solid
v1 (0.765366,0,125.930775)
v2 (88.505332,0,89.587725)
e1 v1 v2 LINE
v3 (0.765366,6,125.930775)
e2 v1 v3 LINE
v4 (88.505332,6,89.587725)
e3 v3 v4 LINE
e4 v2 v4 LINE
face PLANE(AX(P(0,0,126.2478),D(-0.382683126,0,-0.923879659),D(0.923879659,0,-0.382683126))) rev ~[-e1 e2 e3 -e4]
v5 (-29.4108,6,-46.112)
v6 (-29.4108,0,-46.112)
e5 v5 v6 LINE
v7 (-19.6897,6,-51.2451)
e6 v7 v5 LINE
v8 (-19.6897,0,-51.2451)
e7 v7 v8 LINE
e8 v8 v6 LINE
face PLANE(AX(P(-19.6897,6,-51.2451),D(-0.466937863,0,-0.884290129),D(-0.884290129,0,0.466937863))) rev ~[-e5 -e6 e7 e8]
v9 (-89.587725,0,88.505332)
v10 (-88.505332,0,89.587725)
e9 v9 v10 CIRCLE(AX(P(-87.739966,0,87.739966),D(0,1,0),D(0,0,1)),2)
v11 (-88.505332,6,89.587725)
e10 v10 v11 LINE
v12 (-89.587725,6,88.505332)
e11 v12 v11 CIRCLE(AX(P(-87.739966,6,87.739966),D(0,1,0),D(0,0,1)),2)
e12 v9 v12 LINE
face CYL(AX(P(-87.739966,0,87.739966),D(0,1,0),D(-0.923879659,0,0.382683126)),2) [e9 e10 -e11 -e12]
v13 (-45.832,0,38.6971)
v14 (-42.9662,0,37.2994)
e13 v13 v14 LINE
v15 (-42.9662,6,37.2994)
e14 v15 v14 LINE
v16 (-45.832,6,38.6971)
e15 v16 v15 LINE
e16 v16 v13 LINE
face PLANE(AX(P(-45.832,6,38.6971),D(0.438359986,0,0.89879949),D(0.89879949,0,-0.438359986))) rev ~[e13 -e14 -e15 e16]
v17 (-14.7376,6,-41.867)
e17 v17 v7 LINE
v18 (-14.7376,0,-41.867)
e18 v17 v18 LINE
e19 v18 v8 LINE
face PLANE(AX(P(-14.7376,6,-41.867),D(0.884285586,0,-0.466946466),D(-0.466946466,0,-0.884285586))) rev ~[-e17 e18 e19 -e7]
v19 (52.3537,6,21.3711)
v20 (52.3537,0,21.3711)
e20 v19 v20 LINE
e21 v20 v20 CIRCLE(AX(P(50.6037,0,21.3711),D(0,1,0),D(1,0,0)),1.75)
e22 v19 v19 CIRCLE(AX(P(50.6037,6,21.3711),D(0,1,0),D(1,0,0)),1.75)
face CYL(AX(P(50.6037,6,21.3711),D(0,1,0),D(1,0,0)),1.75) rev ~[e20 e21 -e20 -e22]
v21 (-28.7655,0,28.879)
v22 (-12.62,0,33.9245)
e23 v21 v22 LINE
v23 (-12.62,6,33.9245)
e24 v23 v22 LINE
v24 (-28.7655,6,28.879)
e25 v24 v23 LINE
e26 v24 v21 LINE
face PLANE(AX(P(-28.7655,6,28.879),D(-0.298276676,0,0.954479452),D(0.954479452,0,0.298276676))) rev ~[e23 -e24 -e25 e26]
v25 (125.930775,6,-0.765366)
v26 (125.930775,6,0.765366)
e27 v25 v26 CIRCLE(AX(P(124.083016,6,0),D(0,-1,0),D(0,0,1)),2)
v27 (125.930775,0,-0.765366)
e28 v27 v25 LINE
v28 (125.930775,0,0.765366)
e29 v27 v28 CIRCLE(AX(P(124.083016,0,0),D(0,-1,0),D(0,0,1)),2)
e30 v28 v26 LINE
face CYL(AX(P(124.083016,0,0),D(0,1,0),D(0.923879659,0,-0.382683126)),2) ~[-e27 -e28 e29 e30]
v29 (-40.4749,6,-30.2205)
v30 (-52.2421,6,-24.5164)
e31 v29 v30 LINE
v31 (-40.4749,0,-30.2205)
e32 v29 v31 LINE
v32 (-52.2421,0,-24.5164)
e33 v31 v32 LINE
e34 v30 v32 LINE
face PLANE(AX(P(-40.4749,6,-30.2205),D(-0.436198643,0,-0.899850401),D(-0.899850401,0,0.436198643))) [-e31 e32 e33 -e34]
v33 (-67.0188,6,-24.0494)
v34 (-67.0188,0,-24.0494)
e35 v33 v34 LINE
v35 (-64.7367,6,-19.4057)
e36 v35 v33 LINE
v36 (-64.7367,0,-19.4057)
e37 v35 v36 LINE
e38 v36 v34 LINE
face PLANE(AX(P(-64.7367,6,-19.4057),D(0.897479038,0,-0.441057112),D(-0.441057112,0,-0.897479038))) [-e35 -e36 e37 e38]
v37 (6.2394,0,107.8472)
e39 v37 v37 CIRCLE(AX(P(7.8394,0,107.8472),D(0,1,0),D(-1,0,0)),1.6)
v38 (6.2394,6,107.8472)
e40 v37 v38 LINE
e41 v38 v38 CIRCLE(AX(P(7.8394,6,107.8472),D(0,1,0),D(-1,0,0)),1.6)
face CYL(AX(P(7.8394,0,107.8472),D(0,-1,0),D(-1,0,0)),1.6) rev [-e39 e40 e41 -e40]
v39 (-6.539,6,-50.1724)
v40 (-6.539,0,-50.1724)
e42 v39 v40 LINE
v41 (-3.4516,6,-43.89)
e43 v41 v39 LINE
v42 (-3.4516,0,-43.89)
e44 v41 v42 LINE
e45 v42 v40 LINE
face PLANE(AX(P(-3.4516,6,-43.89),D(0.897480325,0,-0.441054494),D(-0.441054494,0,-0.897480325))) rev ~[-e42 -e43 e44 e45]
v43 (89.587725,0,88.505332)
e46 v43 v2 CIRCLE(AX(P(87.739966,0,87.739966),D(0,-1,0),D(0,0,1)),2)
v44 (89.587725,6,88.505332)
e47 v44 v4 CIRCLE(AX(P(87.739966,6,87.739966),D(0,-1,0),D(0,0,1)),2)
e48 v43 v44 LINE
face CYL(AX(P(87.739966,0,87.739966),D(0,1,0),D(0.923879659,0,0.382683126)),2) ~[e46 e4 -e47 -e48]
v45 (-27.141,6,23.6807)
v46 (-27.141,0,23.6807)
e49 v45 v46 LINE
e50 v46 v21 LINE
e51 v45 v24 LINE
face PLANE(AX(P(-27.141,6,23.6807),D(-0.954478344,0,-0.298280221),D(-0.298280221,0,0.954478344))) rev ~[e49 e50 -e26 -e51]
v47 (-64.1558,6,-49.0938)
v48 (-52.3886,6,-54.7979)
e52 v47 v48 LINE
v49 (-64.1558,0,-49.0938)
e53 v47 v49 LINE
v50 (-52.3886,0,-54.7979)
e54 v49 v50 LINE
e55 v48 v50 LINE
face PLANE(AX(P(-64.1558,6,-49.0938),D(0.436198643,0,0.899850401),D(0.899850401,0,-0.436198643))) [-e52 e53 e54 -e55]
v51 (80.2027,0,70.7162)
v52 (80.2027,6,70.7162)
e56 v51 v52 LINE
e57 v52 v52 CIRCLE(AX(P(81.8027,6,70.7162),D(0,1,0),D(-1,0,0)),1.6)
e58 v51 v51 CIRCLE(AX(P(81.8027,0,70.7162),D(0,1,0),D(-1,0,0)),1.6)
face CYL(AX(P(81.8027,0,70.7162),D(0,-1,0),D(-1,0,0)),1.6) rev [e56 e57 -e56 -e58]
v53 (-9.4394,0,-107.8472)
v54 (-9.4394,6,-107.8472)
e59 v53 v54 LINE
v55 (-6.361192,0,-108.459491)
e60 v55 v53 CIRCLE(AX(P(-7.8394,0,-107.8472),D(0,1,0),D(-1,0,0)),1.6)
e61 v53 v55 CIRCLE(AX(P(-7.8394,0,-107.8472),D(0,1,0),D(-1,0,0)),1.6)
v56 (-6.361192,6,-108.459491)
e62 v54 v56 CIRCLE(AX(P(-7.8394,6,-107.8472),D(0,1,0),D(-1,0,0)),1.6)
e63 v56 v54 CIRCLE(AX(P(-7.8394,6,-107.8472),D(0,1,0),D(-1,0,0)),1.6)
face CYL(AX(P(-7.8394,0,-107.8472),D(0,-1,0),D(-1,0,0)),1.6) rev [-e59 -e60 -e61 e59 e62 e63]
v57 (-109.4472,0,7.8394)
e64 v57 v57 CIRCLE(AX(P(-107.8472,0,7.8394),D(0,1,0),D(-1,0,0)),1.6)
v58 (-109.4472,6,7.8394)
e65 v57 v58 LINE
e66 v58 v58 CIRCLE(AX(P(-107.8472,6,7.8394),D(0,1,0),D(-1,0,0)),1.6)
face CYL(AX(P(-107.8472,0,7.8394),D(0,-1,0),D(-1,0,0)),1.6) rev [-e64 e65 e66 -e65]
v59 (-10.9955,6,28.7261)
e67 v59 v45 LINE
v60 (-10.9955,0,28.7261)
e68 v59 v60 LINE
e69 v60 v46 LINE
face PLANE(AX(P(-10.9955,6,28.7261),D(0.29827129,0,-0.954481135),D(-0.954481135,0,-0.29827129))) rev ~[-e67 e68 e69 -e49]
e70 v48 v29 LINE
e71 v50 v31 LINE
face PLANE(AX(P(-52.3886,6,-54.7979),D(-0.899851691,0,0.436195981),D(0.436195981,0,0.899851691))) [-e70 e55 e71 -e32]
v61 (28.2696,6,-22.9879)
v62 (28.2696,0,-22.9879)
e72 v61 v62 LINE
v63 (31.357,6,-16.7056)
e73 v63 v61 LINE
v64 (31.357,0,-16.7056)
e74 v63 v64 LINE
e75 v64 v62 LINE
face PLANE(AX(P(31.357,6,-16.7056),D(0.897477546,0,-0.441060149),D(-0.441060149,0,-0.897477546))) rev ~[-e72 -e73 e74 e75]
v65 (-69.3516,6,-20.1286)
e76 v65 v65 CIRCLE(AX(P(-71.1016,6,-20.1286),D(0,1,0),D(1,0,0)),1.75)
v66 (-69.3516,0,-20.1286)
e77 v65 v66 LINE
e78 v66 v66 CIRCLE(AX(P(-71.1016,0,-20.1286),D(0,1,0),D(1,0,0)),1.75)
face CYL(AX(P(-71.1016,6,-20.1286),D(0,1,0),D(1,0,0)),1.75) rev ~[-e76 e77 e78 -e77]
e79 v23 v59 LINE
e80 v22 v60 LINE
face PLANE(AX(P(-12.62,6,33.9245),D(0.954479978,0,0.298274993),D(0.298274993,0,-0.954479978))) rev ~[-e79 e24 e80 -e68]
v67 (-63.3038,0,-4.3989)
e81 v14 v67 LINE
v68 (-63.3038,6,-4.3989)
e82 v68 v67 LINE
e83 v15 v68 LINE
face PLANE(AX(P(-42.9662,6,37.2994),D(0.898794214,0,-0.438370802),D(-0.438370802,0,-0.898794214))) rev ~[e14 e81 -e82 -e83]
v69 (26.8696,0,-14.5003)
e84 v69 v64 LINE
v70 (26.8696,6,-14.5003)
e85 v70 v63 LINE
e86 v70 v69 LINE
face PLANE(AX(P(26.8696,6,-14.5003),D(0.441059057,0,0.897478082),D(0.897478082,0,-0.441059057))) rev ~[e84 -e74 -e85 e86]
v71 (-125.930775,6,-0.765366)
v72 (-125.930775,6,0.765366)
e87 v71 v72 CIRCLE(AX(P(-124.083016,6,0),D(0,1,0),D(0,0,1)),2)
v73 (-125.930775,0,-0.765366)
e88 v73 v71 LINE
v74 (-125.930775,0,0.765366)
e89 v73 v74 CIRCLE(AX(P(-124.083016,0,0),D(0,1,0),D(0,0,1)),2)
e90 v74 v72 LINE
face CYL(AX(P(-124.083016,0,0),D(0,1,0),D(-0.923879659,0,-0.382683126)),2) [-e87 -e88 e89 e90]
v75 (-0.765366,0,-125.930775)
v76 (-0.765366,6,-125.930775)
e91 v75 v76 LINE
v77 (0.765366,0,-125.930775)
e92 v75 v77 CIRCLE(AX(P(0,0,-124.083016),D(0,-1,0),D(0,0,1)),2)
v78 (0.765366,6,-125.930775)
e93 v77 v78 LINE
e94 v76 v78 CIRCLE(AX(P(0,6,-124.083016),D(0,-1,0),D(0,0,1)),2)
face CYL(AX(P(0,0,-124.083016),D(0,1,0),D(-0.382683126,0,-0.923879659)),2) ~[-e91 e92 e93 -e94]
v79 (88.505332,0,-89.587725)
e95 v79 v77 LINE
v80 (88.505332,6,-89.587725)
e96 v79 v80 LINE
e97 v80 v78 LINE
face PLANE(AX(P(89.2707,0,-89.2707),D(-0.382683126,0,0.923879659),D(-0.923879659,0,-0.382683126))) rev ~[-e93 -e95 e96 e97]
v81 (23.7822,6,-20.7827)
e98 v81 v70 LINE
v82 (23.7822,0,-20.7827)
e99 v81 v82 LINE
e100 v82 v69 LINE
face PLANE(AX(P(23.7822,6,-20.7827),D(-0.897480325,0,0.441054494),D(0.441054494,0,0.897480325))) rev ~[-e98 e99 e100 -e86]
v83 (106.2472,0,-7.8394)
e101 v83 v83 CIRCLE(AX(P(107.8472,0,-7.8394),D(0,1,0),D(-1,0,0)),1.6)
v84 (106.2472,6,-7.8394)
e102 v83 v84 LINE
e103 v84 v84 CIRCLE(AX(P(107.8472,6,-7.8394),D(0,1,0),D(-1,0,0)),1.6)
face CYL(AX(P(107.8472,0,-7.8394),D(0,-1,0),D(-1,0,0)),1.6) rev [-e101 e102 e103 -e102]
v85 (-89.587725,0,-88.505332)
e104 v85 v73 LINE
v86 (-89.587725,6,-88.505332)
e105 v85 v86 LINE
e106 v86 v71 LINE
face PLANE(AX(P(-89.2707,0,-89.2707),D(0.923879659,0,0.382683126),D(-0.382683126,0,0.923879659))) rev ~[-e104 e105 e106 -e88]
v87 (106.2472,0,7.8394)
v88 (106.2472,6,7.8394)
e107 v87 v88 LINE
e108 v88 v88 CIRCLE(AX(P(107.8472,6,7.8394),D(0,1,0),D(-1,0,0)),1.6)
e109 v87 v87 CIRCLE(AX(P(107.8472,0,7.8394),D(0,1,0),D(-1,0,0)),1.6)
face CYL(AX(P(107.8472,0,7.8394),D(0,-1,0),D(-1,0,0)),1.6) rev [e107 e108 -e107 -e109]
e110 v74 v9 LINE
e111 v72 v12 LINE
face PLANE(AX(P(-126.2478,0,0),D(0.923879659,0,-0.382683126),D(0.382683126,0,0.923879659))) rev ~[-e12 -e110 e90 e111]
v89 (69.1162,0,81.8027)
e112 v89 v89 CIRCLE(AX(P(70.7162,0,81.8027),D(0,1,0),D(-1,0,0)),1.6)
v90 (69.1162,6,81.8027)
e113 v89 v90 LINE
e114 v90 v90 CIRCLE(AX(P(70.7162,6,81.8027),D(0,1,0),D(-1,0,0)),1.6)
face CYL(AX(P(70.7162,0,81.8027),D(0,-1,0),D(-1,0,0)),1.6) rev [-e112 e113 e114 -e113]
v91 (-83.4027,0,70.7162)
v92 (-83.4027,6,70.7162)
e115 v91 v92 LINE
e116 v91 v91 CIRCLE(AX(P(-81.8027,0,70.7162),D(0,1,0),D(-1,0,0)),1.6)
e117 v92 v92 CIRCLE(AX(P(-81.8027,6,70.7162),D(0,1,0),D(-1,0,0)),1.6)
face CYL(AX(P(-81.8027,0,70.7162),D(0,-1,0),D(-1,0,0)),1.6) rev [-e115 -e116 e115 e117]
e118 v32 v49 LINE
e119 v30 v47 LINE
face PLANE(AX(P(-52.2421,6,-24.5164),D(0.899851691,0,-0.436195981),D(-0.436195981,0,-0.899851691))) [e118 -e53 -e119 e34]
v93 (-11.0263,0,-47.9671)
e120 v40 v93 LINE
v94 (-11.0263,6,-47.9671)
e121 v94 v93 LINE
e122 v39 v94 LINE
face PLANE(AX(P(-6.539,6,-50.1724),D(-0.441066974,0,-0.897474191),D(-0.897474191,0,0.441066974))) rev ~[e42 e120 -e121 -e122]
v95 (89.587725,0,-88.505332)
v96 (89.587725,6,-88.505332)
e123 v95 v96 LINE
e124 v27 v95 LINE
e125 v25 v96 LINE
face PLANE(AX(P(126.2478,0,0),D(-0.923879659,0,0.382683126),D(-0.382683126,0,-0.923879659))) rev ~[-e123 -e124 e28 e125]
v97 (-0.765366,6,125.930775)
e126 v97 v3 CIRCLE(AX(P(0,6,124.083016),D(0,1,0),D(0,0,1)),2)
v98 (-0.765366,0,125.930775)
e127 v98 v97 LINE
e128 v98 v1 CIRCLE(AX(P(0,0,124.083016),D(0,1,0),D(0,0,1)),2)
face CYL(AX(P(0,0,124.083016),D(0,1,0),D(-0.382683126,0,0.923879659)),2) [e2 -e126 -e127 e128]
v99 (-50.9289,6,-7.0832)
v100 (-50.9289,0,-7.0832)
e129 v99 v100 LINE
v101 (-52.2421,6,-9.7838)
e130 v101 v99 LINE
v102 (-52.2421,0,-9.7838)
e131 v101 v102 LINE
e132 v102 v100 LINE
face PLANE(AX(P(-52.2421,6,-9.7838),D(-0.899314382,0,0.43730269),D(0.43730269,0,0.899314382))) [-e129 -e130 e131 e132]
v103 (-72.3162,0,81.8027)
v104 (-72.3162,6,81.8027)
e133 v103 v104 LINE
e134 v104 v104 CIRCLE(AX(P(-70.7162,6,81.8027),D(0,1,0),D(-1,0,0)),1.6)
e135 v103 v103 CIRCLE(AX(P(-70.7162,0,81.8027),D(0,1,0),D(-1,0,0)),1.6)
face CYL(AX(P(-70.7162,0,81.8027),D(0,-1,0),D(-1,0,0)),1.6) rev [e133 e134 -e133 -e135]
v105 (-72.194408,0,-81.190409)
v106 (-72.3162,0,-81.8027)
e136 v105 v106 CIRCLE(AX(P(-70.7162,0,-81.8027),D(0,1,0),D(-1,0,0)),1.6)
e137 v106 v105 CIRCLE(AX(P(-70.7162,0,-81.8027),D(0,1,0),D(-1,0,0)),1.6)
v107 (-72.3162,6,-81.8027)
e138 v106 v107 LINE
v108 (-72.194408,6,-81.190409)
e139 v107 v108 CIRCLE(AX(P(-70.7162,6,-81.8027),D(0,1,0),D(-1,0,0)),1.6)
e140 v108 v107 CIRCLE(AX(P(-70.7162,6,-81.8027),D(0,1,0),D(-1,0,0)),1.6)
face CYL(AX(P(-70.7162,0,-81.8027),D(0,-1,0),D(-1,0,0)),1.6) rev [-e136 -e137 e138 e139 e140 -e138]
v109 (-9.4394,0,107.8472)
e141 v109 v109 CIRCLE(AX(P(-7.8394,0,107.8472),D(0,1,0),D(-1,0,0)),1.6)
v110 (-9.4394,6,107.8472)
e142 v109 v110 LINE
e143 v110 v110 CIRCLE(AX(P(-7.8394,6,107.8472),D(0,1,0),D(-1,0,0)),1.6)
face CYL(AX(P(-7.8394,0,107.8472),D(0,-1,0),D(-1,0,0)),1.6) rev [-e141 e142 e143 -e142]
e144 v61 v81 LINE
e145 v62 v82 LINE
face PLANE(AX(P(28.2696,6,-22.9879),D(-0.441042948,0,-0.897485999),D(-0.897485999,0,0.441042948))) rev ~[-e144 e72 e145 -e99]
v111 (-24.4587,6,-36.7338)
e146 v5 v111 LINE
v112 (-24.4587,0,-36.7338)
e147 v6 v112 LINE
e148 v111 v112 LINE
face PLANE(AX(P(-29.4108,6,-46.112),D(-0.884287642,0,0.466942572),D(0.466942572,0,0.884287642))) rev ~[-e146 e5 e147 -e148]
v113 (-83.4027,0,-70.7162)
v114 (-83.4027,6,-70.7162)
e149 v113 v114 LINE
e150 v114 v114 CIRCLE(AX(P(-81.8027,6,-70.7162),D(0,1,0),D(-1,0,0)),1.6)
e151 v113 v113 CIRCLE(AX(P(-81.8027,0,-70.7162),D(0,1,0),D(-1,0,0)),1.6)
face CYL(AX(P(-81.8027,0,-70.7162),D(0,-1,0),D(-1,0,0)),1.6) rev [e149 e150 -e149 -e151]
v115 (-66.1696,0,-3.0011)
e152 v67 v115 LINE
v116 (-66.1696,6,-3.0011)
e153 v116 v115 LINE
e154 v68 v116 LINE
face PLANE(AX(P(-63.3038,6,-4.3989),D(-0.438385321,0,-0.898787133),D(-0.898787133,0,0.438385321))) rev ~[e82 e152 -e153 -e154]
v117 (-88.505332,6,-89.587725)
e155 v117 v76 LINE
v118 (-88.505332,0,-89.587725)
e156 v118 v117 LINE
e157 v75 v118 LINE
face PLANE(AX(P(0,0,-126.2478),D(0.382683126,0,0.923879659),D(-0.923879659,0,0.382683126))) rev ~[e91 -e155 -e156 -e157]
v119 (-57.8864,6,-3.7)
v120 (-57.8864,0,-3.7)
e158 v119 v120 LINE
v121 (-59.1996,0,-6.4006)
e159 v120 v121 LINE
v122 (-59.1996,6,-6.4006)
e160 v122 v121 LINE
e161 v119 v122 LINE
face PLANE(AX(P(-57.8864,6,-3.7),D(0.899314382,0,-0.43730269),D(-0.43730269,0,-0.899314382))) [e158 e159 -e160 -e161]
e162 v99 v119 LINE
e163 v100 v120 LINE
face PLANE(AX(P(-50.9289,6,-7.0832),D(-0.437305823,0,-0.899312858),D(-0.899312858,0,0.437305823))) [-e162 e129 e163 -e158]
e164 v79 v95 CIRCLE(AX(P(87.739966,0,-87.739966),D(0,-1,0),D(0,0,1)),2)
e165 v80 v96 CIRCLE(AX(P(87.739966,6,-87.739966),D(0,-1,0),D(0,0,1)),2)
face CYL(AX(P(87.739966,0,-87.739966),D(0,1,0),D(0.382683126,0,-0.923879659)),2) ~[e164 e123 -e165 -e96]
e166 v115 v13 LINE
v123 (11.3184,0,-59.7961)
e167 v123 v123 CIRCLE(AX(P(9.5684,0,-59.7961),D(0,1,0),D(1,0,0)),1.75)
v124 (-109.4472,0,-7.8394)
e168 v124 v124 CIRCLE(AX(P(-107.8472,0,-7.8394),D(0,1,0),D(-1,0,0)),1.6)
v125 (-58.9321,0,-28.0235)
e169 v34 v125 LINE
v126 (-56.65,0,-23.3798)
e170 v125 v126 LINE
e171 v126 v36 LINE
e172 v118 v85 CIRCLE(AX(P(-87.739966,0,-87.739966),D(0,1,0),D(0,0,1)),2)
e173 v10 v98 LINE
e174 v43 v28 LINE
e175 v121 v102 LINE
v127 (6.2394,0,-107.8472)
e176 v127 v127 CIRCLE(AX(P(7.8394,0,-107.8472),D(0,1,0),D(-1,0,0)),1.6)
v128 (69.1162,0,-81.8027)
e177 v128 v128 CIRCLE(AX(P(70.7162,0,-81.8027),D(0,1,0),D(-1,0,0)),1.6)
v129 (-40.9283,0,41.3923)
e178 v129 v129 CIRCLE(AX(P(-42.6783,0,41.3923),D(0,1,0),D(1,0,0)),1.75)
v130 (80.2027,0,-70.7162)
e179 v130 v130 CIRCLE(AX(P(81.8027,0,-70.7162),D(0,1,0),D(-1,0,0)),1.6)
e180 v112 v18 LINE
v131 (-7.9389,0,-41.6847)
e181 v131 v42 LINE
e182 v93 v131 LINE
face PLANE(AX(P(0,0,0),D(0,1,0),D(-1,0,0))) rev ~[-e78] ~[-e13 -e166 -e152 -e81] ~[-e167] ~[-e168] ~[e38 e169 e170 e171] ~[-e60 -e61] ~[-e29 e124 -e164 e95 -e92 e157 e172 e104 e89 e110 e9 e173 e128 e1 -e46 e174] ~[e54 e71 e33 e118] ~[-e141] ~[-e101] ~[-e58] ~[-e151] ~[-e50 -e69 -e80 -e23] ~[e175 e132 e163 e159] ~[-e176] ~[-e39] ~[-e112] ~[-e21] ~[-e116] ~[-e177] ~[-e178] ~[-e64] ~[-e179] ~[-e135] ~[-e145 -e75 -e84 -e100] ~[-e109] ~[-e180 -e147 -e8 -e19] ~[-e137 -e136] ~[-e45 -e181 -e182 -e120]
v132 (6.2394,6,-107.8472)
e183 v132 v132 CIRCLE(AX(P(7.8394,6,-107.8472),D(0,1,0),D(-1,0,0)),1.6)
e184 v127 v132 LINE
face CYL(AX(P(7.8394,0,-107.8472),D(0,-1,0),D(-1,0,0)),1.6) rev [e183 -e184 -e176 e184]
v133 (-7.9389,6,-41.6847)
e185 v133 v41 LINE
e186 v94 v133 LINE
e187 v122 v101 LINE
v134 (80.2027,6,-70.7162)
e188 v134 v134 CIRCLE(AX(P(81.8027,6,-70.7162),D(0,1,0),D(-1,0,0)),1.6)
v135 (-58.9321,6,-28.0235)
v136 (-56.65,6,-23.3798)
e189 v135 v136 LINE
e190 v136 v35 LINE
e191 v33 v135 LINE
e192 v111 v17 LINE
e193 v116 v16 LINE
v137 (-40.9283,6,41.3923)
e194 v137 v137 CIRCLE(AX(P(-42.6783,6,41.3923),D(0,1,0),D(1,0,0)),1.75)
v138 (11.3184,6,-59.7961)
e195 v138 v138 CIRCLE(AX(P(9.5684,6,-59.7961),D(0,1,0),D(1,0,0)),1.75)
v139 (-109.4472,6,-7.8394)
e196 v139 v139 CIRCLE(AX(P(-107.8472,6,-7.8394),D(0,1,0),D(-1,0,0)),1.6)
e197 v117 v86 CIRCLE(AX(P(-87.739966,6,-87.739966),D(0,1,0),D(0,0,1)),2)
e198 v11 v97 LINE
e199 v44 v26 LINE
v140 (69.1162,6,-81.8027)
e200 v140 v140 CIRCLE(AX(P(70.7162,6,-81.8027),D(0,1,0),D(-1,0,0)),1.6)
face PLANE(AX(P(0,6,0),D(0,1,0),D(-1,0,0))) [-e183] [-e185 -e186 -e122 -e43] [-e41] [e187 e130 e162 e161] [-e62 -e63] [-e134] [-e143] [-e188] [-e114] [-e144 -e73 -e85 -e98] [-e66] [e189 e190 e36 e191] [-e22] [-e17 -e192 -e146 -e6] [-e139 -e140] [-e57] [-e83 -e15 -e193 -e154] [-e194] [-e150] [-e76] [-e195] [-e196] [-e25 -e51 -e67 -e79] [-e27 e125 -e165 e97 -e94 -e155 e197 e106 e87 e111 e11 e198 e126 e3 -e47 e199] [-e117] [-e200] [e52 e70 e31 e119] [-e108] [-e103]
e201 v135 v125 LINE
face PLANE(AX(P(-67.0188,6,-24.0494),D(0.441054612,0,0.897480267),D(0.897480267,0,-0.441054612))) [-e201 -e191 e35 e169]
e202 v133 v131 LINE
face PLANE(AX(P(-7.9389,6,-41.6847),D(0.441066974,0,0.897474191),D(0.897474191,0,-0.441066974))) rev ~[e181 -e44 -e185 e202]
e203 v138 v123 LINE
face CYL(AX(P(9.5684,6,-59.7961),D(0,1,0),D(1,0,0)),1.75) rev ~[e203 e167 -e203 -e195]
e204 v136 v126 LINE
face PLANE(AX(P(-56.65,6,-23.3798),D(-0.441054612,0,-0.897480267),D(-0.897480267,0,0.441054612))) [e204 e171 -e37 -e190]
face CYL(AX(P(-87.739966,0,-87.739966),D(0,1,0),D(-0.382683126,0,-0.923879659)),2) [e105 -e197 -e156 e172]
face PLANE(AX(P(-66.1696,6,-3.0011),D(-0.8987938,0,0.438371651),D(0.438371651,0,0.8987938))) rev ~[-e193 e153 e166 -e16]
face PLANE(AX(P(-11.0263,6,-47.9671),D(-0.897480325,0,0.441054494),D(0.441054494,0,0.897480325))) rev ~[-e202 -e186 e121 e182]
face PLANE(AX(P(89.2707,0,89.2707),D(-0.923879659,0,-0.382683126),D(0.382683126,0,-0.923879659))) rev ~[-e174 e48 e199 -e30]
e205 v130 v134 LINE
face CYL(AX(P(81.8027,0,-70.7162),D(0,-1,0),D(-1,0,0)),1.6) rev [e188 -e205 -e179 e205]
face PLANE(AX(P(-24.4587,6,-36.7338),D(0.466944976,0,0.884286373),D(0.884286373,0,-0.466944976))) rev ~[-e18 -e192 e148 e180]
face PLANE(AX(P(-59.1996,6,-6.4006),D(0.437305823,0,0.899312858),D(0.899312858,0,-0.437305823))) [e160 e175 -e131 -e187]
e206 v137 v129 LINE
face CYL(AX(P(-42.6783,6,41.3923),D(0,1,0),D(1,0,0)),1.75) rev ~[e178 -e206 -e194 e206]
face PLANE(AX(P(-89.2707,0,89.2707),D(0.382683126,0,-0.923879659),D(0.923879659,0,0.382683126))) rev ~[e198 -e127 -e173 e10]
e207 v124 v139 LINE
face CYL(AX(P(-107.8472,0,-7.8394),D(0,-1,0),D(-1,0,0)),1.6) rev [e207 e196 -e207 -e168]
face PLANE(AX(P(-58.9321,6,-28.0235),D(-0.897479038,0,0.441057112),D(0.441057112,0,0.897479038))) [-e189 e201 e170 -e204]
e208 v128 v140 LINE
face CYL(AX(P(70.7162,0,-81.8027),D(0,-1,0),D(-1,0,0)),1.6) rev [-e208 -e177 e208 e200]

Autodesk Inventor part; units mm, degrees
ref_plane "YZ Plane" through (0, 0, 0) normal (1, 0, 0) x (0, 1, 0)
ref_plane "XZ Plane" through (0, 0, 0) normal (0, 1, 0) x (-1, 0, 0)
ref_plane "XY Plane" through (0, 0, 0) normal (0, 0, 1) x (1, 0, 0)
sketch "Sketch1" plane through (0, 0, 0) normal (0, 1, 0) x (-1, 0, 0)
  line L0 (0, 0) -> (0, -104.6)
  line L1 (0, -104.6) -> (-73.9634, -73.9634)
  line L2 (-73.9634, -73.9634) -> (-104.6, 0)
  line L3 (-104.6, 0) -> (-73.9634, 73.9634)
  line L4 (-73.9634, 73.9634) -> (0, 104.6)
  line L5 (0, 104.6) -> (73.9634, 73.9634)
  line L6 (73.9634, 73.9634) -> (104.6, 0)
  line L7 (104.6, 0) -> (73.9634, -73.9634)
  line L8 (73.9634, -73.9634) -> (0, -104.6)
  line L9 (89.2707, -89.2707) -> (126.2478, 0)
  line L10 (126.2478, 0) -> (89.2707, 89.2707)
  line L11 (89.2707, 89.2707) -> (0, 126.2478)
  line L12 (0, 126.2478) -> (-89.2707, 89.2707)
  line L13 (-89.2707, 89.2707) -> (-126.2478, 0)
  line L14 (-126.2478, 0) -> (-89.2707, -89.2707)
  line L15 (-89.2707, -89.2707) -> (0, -126.2478)
  line L16 (0, -126.2478) -> (89.2707, -89.2707)
  line L17 (0, -104.6) -> (7.6537, -123.0776)
  line L18 (0, -104.6) -> (20, -104.6) construction
  line L19 (73.9634, -73.9634) -> (81.617, -92.441)
  line L20 (73.9634, -73.9634) -> (76.2595, -79.5066)
  line L21 (76.2595, -79.5066) -> (70.7162, -81.8027)
  circle A0 centre (70.7162, -81.8027) radius 1.6
  line L22 (0, -104.6) -> (2.2961, -110.1433)
  line L23 (2.2961, -110.1433) -> (7.8394, -107.8472)
  circle A1 centre (7.8394, -107.8472) radius 1.6
  circle A2 centre (107.8472, -7.8394) radius 1.6
  circle A3 centre (81.8027, -70.7162) radius 1.6
  circle A4 centre (81.8027, 70.7162) radius 1.6
  circle A5 centre (107.8472, 7.8394) radius 1.6
  circle A6 centre (7.8394, 107.8472) radius 1.6
  circle A7 centre (70.7162, 81.8027) radius 1.6
  circle A8 centre (-70.7162, 81.8027) radius 1.6
  circle A9 centre (-7.8394, 107.8472) radius 1.6
  circle A10 centre (-107.8472, 7.8394) radius 1.6
  circle A11 centre (-81.8027, 70.7162) radius 1.6
  circle A12 centre (-81.8027, -70.7162) radius 1.6
  circle A13 centre (-107.8472, -7.8394) radius 1.6
  circle A14 centre (-7.8394, -107.8472) radius 1.6
  circle A15 centre (-70.7162, -81.8027) radius 1.6
  dimension "d0" = 104.6
  dimension "d1" = 20
  dimension "d2" = 67.5
  dimension "d3" = 6
  dimension "d4" = 6
  dimension "d5" = 3.2
  dimension "d6" = 6
  dimension "d7" = 3.2
  dimension "d10" = 360
extrude "Extrusion1" add sketch "Sketch1" along normal blind 6
sketch "Sketch2" plane through (0, 6, 0) normal (0, 1, 0) x (1, 0, 0)
  circle A0 centre (-42.6783, -41.3923) radius 1.25 projected
  circle A1 centre (-71.1016, 20.1286) radius 1.25 projected
  circle A2 centre (9.5684, 59.7961) radius 1.25 projected
  circle A3 centre (50.6037, -21.3711) radius 1.25 projected
  line L0 (27.326, 15.8388) -> (30.0184, 17.162) projected
  line L1 (30.0184, 17.162) -> (27.8131, 21.6494) projected
  line L2 (-6.9954, 48.8338) -> (-9.6878, 47.5107) projected
  line L3 (-9.6878, 47.5107) -> (-7.4825, 43.0233) projected
  line L4 (25.1207, 20.3262) -> (27.326, 15.8388) projected
  line L5 (27.8131, 21.6494) -> (25.1207, 20.3262) projected
  line L6 (-7.4825, 43.0233) -> (-4.7901, 44.3464) projected
  line L7 (-4.7901, 44.3464) -> (-6.9954, 48.8338) projected
  line L8 (-12.62, -33.9245) -> (-10.9955, -28.7261)
  line L9 (-10.9955, -28.7261) -> (-27.141, -23.6807)
  line L10 (-27.141, -23.6807) -> (-28.7655, -28.879)
  line L11 (-28.7655, -28.879) -> (-12.62, -33.9245)
  line L12 (-12.62, -33.9245) -> (-27.141, -23.6807) construction
  line L13 (-10.9955, -28.7261) -> (-28.7655, -28.879) construction
  line L14 (-45.832, -38.6971) -> (-42.9662, -37.2994)
  line L15 (-42.9662, -37.2994) -> (-63.3038, 4.3989)
  line L16 (-63.3038, 4.3989) -> (-66.1696, 3.0011)
  line L17 (-66.1696, 3.0011) -> (-45.832, -38.6971)
  line L18 (-45.832, -38.6971) -> (-63.3038, 4.3989) construction
  line L19 (-42.9662, -37.2994) -> (-66.1696, 3.0011) construction
  line L20 (-45.832, -38.6971) -> (-42.6435, -38.6971) construction
  line L21 (-57.8864, 3.7) -> (-59.1996, 6.4006)
  line L22 (-59.1996, 6.4006) -> (-52.2421, 9.7838)
  line L23 (-52.2421, 9.7838) -> (-50.9289, 7.0832)
  line L24 (-50.9289, 7.0832) -> (-57.8864, 3.7)
  line L25 (-64.7367, 19.4057) -> (-67.0188, 24.0494)
  line L26 (-67.0188, 24.0494) -> (-58.9321, 28.0235)
  line L27 (-58.9321, 28.0235) -> (-56.65, 23.3798)
  line L28 (-56.65, 23.3798) -> (-64.7367, 19.4057)
  line L29 (-52.2421, 24.5164) -> (-64.1558, 49.0938)
  line L30 (-64.1558, 49.0938) -> (-52.3886, 54.7979)
  line L31 (-52.3886, 54.7979) -> (-40.4749, 30.2205)
  line L32 (-40.4749, 30.2205) -> (-52.2421, 24.5164)
  line L33 (-29.4108, 46.112) -> (-24.4587, 36.7338)
  line L34 (-24.4587, 36.7338) -> (-14.7376, 41.867)
  line L35 (-14.7376, 41.867) -> (-19.6897, 51.2451)
  line L36 (-19.6897, 51.2451) -> (-29.4108, 46.112)
  circle A4 centre (9.5684, 59.7961) radius 1.75
  circle A5 centre (50.6037, -21.3711) radius 1.75
  circle A6 centre (-42.6783, -41.3923) radius 1.75
  circle A7 centre (-71.1016, 20.1286) radius 1.75
  line L37 (26.8696, 14.5003) -> (31.357, 16.7056)
  line L38 (31.357, 16.7056) -> (28.2696, 22.9879)
  line L39 (28.2696, 22.9879) -> (23.7822, 20.7827)
  line L40 (23.7822, 20.7827) -> (26.8696, 14.5003)
  line L41 (-6.539, 50.1724) -> (-11.0263, 47.9671)
  line L42 (-11.0263, 47.9671) -> (-7.9389, 41.6847)
  line L43 (-7.9389, 41.6847) -> (-3.4516, 43.89)
  line L44 (-3.4516, 43.89) -> (-6.539, 50.1724)
  point P0 (0, 0)
  point P1 (-19.8805, -28.8026)
  point P2 (-54.5679, -17.1491)
  dimension "d14" = 26
  dimension "d15" = 0.5
  dimension "d16" = 0.5
  dimension "d17" = 0.5
  dimension "d18" = 0.5
  dimension "d19" = 1
  dimension "d20" = 1
extrude "Extrusion2" cut sketch "Sketch2" against normal blind 7 contours A0 | A1 | A2 | A3 | L4 L5 L1 L0 | L7 L6 L3 L2 | L11 L10 L9 L8 | L17 L16 L15 L14 | L21 L22 L23 L24 | L25 L26 L27 L28 | L29 L30 L31 L32 | L36 L35 L34 L33 | A4 | A5 | A6 | A7 | L40 L39 L38 L37 | L44 L43 L42 L41
fillet "Fillet1" radius 2 8 edges at (89.2707, 3, 89.2707) (126.2478, 3, 0) (89.2707, 3, -89.2707) (0, 3, -126.2478) (-89.2707, 3, -89.2707) (-126.2478, 3, 0) (-89.2707, 3, 89.2707) (0, 3, 126.2478)
properties part number "Bund"
